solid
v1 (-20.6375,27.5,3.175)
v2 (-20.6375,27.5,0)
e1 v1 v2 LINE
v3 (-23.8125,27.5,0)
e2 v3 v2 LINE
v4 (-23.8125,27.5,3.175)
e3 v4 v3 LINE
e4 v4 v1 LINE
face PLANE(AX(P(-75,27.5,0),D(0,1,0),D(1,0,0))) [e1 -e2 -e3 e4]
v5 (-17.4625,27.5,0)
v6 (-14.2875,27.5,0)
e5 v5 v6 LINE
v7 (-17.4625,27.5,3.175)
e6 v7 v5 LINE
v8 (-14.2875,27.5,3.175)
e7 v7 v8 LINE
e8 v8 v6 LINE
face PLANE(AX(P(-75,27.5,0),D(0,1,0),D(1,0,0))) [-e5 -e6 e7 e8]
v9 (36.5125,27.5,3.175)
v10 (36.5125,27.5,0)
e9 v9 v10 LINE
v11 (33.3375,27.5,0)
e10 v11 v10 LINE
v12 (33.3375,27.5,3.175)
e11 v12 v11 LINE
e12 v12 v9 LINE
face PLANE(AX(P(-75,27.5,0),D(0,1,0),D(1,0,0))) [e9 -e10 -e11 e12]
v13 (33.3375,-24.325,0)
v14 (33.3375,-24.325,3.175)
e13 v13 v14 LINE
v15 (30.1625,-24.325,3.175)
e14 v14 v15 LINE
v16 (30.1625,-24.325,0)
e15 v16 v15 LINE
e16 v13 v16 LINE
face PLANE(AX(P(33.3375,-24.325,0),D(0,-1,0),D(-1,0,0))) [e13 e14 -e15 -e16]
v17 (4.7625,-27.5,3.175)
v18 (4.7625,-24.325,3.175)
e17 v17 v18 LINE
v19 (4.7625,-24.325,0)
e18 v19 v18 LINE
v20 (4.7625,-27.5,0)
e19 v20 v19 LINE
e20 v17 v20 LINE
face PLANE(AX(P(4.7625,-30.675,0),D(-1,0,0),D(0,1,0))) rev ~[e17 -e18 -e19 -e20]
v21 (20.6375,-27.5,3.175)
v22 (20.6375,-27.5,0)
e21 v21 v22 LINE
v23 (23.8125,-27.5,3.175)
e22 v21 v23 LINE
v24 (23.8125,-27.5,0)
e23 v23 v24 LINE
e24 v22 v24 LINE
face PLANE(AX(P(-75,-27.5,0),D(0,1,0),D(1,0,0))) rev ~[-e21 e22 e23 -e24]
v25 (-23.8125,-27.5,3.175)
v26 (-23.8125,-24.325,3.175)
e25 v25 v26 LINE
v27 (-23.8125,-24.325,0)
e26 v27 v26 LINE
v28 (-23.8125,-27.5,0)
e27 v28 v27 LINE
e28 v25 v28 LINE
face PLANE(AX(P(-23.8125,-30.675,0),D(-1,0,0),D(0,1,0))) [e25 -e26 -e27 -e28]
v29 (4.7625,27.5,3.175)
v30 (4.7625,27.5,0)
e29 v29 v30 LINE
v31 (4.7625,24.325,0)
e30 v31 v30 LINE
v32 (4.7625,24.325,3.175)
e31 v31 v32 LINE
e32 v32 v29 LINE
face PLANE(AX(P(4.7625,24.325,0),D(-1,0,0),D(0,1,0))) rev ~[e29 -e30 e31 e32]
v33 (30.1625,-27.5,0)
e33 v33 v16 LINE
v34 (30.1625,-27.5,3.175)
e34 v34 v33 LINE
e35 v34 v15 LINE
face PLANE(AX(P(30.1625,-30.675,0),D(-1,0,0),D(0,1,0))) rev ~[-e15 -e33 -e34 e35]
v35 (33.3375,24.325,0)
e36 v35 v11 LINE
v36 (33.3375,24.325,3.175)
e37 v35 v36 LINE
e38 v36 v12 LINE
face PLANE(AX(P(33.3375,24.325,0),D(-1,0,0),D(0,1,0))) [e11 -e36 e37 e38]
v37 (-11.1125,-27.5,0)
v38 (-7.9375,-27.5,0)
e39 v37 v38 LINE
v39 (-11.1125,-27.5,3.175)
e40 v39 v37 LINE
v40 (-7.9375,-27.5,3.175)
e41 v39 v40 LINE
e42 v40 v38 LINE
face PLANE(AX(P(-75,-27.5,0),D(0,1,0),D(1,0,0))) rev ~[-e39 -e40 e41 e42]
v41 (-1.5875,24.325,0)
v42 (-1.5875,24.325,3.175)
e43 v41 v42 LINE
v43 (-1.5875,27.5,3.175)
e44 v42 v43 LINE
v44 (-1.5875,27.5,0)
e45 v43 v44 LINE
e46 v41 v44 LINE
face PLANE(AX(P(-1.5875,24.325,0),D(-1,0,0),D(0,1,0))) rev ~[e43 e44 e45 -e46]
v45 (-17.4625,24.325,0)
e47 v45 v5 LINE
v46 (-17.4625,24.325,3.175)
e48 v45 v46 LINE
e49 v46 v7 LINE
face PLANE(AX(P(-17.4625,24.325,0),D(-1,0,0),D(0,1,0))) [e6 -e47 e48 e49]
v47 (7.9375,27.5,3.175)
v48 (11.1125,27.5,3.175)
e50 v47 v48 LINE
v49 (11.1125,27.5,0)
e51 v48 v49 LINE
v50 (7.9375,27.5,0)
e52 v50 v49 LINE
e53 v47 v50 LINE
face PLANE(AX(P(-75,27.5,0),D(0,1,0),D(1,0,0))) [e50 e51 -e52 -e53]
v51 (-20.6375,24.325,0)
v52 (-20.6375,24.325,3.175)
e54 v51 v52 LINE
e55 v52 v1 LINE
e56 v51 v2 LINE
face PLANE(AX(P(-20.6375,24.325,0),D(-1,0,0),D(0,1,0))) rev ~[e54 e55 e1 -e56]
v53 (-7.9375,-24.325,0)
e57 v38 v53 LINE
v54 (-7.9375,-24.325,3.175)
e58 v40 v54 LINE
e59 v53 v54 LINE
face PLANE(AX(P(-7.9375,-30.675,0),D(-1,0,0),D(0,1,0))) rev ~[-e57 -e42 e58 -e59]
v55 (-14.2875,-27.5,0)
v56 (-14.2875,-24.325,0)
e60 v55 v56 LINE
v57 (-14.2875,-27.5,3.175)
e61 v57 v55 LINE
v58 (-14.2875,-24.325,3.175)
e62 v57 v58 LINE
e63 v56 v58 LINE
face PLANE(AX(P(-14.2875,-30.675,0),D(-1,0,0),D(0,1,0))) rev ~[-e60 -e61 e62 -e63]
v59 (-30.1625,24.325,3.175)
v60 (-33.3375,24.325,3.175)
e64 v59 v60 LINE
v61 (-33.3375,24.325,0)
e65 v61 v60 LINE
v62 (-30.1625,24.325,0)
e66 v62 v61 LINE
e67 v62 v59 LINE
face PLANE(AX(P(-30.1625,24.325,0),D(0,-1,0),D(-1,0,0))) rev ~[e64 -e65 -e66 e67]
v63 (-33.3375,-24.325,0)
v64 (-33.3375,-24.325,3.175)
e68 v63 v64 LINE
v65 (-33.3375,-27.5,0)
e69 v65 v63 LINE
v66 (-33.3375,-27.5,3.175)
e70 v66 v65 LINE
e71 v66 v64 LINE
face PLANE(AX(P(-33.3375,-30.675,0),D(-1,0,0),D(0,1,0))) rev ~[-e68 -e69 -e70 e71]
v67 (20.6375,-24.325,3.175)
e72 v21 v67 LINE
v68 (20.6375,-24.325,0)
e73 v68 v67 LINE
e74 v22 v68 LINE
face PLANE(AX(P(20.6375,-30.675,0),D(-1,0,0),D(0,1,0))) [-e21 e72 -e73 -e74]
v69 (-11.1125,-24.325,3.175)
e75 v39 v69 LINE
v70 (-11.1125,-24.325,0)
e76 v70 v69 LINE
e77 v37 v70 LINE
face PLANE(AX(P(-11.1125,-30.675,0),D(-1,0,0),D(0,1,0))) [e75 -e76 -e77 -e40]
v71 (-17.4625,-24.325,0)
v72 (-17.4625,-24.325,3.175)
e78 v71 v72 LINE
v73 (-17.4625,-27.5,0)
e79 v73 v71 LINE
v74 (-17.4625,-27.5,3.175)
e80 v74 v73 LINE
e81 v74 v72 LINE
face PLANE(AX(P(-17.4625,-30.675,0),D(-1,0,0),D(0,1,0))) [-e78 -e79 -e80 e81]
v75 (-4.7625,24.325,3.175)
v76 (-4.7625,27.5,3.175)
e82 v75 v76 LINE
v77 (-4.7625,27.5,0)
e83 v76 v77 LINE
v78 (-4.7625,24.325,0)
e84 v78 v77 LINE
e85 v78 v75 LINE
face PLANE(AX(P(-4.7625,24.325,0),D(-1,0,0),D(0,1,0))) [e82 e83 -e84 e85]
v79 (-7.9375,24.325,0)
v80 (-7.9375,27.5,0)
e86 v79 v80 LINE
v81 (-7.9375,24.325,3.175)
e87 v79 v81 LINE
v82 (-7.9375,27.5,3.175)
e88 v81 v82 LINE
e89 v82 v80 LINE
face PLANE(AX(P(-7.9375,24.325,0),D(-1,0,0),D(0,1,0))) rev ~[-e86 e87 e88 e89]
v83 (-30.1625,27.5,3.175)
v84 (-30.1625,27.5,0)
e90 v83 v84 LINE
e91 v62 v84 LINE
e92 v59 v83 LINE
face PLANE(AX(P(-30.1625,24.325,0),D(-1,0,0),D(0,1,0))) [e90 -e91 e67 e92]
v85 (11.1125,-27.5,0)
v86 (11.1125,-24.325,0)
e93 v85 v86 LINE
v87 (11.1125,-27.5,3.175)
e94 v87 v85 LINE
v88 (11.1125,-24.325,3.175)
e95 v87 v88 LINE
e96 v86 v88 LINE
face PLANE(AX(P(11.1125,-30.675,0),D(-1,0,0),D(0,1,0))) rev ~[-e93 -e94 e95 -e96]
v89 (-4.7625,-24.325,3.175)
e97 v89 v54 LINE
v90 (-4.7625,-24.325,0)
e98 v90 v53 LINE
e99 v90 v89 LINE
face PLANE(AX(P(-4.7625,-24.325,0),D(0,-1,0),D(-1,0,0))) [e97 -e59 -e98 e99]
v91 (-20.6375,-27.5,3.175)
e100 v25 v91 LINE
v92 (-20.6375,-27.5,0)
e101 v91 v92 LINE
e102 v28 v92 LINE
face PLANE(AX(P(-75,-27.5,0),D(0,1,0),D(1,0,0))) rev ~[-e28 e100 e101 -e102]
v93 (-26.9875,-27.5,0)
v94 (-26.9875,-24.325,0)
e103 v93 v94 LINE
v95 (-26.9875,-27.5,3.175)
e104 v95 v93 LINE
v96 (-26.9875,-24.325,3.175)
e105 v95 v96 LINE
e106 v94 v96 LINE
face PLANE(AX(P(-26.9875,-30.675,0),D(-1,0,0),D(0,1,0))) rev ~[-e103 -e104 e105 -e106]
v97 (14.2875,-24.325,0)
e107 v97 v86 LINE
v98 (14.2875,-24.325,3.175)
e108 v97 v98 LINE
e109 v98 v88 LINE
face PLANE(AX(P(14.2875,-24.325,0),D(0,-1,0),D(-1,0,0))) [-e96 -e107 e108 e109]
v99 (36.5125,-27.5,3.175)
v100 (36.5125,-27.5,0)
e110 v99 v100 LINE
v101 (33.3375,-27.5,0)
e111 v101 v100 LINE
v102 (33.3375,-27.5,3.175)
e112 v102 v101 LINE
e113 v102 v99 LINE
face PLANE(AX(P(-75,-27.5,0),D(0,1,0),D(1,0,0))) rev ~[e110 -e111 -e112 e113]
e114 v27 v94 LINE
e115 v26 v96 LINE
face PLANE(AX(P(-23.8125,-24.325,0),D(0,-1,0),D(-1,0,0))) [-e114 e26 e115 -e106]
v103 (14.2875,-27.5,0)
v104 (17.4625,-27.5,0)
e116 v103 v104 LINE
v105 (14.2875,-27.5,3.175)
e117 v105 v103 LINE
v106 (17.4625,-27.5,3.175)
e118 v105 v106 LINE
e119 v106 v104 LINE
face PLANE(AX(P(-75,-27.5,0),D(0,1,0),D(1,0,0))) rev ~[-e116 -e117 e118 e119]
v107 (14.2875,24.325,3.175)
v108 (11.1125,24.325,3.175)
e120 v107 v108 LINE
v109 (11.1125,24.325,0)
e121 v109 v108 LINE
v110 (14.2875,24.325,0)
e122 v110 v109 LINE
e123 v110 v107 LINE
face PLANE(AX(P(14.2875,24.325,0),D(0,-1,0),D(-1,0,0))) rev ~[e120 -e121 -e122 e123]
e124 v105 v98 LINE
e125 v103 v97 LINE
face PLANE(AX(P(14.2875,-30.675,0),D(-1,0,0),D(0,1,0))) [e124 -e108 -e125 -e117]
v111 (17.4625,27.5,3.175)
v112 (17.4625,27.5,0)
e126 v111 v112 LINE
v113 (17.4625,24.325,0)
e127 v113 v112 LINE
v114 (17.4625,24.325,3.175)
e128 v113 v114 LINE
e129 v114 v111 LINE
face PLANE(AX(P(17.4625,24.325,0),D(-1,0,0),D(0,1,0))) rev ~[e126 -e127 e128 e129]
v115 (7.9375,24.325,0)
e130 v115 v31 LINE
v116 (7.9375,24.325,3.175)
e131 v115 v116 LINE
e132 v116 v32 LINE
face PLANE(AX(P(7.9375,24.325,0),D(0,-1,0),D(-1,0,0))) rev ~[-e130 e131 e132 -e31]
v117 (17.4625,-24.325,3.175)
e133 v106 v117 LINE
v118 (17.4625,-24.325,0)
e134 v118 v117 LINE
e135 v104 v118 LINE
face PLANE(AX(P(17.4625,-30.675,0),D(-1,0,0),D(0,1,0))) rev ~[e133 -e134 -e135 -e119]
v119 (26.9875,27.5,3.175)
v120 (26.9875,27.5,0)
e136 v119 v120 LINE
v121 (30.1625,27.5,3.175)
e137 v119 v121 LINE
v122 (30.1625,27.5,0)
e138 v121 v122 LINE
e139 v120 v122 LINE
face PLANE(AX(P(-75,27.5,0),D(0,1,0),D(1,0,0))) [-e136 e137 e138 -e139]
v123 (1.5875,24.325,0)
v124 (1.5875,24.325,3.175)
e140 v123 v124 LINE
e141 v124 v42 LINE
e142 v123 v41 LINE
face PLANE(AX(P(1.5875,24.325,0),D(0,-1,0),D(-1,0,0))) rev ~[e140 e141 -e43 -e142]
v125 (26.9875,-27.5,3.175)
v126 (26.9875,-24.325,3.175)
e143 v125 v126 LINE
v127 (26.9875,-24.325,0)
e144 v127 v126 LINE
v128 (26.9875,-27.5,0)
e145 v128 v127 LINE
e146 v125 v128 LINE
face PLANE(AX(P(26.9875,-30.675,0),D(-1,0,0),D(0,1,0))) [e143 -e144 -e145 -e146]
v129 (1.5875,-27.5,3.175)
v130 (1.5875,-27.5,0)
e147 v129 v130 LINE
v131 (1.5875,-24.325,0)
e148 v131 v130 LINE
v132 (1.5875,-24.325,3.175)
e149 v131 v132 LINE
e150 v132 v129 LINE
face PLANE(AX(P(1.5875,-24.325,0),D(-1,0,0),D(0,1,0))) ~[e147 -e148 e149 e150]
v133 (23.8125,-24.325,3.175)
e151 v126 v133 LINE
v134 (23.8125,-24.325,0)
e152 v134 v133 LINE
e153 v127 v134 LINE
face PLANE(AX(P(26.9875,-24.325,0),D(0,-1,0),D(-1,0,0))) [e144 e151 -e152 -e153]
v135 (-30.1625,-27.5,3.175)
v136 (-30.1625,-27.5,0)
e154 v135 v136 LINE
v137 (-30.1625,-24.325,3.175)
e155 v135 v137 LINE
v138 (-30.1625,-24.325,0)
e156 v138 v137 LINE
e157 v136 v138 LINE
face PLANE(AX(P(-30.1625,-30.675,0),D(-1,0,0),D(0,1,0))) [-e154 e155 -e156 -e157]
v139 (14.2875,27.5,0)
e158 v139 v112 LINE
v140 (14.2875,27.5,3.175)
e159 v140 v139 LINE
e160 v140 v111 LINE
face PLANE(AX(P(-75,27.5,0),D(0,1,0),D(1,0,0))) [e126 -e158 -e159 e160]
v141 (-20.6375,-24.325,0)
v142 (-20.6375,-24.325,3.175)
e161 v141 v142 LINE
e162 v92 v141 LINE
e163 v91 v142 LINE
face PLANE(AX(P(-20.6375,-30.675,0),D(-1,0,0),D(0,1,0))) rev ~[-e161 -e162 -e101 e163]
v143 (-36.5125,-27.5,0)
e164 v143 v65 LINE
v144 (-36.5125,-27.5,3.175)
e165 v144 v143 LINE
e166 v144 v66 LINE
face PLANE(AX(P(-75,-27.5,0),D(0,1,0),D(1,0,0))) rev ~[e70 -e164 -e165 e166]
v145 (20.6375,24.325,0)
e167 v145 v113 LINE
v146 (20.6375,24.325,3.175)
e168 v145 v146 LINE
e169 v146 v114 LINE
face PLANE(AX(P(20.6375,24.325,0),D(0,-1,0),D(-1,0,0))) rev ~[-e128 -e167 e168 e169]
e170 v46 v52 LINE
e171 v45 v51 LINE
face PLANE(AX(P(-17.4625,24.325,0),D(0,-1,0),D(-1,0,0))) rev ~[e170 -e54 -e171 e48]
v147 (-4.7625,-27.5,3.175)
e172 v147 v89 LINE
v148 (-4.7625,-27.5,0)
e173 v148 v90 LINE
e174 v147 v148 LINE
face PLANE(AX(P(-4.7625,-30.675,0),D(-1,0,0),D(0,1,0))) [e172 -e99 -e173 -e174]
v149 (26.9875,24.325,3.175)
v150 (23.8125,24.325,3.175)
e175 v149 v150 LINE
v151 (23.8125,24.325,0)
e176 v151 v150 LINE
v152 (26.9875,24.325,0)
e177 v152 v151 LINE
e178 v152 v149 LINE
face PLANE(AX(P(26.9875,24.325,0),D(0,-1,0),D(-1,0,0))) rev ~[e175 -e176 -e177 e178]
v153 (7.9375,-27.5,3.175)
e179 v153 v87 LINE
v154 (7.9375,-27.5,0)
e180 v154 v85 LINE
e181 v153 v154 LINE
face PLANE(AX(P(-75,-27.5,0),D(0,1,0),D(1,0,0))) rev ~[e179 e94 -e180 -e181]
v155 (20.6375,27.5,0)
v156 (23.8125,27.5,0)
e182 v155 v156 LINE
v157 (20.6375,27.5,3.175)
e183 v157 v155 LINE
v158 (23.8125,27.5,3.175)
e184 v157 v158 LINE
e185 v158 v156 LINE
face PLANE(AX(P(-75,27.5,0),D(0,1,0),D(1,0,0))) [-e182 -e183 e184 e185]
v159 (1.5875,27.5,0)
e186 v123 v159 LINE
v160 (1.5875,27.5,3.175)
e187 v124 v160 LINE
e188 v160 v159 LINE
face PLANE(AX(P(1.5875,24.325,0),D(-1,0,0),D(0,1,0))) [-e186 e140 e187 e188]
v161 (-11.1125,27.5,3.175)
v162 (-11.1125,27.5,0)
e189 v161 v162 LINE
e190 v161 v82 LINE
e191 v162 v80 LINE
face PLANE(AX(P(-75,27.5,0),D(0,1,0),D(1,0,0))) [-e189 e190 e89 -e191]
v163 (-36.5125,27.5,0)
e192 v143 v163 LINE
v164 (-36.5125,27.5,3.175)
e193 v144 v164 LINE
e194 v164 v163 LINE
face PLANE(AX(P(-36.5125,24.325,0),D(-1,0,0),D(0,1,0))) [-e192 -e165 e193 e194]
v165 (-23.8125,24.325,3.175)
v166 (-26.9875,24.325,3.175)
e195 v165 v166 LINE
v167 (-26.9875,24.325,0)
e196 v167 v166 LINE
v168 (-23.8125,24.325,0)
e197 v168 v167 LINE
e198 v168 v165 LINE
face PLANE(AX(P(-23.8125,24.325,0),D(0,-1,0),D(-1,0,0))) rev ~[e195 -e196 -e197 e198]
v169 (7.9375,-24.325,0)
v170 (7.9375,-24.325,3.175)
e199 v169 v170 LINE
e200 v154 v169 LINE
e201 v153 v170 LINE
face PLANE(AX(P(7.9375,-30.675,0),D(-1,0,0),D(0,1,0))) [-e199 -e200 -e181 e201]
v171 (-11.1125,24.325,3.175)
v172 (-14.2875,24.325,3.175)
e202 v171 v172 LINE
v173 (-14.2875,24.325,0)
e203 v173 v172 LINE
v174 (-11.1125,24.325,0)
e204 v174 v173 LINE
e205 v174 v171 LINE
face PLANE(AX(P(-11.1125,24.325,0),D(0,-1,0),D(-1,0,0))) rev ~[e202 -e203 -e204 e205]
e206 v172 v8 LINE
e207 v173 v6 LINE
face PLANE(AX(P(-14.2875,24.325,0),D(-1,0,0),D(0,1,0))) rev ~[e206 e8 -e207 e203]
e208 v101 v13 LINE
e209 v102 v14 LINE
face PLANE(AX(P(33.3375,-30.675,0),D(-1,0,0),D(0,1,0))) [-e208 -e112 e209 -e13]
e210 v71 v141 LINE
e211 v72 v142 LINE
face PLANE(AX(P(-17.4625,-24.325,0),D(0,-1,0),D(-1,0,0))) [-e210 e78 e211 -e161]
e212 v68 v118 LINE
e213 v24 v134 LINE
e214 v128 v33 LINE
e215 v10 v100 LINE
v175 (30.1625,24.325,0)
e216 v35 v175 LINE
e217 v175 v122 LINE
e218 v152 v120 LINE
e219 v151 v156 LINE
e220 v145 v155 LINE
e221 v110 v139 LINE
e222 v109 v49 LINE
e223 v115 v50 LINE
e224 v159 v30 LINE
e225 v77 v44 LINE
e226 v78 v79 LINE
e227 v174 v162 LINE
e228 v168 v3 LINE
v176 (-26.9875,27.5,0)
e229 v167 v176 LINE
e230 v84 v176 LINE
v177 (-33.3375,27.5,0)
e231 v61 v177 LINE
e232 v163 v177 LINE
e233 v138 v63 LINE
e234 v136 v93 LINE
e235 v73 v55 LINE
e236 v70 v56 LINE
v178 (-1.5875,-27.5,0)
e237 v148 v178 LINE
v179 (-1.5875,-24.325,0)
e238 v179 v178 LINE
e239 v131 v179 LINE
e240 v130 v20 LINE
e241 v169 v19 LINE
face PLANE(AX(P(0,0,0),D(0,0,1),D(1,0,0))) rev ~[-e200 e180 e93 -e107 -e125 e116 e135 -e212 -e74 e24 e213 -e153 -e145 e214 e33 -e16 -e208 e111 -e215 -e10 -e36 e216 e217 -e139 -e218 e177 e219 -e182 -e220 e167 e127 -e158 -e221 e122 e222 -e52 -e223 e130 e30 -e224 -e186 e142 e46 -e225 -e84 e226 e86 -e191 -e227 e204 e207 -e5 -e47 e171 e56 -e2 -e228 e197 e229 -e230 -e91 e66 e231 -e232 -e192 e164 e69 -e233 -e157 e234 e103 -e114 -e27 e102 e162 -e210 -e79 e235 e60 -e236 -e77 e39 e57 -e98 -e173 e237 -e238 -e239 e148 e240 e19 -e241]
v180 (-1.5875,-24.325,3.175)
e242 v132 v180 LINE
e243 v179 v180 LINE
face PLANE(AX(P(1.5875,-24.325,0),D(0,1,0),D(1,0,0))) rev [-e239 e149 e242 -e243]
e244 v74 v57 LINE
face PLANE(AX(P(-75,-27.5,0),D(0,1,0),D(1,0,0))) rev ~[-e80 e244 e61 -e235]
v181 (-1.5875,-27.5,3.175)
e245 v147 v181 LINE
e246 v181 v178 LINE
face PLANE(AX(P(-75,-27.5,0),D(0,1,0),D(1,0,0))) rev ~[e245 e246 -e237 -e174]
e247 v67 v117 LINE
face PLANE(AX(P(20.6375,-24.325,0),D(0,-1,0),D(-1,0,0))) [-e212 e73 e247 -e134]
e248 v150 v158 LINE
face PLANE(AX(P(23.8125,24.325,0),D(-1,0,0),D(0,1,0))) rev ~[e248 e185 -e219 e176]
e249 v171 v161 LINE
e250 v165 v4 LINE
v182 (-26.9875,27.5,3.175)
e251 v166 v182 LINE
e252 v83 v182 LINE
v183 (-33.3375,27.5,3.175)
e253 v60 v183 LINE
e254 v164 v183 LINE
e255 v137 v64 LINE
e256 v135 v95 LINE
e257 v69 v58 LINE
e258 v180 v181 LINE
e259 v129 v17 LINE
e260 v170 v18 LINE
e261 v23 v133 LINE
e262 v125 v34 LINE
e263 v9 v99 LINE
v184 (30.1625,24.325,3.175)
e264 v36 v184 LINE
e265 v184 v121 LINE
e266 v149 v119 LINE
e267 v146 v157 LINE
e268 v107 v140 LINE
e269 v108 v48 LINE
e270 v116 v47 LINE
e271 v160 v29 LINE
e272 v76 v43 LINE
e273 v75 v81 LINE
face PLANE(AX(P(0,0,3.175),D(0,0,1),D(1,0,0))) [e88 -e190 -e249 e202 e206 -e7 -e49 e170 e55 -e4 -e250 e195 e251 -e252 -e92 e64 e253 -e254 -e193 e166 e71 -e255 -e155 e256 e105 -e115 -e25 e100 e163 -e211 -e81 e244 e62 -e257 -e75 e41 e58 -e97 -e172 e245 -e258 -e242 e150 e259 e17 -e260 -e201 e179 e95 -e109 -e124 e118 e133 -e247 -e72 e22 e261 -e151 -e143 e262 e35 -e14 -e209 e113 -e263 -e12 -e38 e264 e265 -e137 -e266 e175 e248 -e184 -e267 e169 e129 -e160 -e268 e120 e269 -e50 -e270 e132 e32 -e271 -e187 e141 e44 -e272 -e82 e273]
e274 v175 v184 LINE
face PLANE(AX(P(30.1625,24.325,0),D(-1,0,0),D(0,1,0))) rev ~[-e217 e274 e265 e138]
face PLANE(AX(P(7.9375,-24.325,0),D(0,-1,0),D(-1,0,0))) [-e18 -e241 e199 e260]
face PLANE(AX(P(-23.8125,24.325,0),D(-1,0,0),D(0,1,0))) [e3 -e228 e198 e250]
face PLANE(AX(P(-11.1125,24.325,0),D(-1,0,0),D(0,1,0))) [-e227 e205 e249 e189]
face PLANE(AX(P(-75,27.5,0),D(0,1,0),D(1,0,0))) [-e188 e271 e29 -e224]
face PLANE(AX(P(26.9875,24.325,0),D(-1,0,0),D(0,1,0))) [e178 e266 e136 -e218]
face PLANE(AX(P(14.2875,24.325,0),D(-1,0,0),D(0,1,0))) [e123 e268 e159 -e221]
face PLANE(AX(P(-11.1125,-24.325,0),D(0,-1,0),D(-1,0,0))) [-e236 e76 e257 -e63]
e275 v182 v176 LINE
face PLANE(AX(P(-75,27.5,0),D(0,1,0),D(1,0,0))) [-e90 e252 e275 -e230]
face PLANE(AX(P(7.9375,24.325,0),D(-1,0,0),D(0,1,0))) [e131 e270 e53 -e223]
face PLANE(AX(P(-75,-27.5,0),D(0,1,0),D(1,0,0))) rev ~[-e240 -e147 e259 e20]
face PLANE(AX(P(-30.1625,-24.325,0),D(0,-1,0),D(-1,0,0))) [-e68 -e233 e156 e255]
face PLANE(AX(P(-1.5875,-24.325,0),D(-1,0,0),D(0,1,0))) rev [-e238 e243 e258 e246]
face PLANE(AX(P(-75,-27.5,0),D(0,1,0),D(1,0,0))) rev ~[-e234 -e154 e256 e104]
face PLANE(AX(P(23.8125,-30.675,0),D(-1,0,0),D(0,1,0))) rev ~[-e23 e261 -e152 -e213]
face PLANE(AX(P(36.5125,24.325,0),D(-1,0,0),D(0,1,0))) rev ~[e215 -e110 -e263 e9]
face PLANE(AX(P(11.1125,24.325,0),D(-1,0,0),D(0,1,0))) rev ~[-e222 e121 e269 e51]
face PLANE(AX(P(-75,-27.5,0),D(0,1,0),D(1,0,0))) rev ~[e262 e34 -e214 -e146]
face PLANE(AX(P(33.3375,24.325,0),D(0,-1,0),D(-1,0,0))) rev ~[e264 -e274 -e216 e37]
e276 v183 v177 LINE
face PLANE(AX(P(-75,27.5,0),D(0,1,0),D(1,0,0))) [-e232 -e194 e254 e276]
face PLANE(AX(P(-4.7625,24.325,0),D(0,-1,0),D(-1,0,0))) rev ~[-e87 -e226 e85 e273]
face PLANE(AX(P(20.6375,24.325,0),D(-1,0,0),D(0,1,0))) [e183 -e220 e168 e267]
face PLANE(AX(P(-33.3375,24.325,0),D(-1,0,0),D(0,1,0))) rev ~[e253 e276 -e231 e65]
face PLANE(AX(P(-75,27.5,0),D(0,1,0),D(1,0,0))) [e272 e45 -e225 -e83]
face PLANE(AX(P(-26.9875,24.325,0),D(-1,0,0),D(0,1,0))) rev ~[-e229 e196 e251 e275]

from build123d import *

# Parameters (mm, degrees)
SKETCH1_W                = 150
SKETCH1_H                = 55
BOSS_EXTRUDE1_DEPTH      = 3.175
CUT_EXTRUDE1_REACH       = 81.946
SKETCH2_W                = 3.175
SKETCH2_H                = 6.35
LPATTERN1_COUNT          = 12
LPATTERN1_PITCH          = 6.35
LPATTERN1_COL_COUNT      = 12
LPATTERN1_COL_PITCH      = 6.35
MIRROR1_COPY_1_REACH     = 81.946
MIRROR1_COPY_1_SKETCH_W  = 3.175
MIRROR1_COPY_1_SKETCH_H  = 6.35
MIRROR1_COPY_2_REACH     = 81.946
MIRROR1_COPY_2_SKETCH_W  = 3.175
MIRROR1_COPY_2_SKETCH_H  = 6.35
MIRROR1_COPY_3_REACH     = 81.946
MIRROR1_COPY_3_SKETCH_W  = 3.175
MIRROR1_COPY_3_SKETCH_H  = 6.35
MIRROR1_COPY_4_REACH     = 81.946
MIRROR1_COPY_4_SKETCH_W  = 3.175
MIRROR1_COPY_4_SKETCH_H  = 6.35
MIRROR1_COPY_5_REACH     = 81.946
MIRROR1_COPY_5_SKETCH_W  = 3.175
MIRROR1_COPY_5_SKETCH_H  = 6.35
MIRROR1_COPY_6_REACH     = 81.946
MIRROR1_COPY_6_SKETCH_W  = 3.175
MIRROR1_COPY_6_SKETCH_H  = 6.35
MIRROR1_COPY_7_REACH     = 81.946
MIRROR1_COPY_7_SKETCH_W  = 3.175
MIRROR1_COPY_7_SKETCH_H  = 6.35
MIRROR1_COPY_8_REACH     = 81.946
MIRROR1_COPY_8_SKETCH_W  = 3.175
MIRROR1_COPY_8_SKETCH_H  = 6.35
MIRROR1_COPY_9_REACH     = 81.946
MIRROR1_COPY_9_SKETCH_W  = 3.175
MIRROR1_COPY_9_SKETCH_H  = 6.35
MIRROR1_COPY_10_REACH    = 81.946
MIRROR1_COPY_10_SKETCH_W = 3.175
MIRROR1_COPY_10_SKETCH_H = 6.35
MIRROR1_COPY_11_REACH    = 81.946
MIRROR1_COPY_11_SKETCH_W = 3.175
MIRROR1_COPY_11_SKETCH_H = 6.35
MIRROR1_COPY_12_REACH    = 81.946
MIRROR1_COPY_12_SKETCH_W = 3.175
MIRROR1_COPY_12_SKETCH_H = 6.35
MIRROR1_COPY_13_REACH    = 81.946
MIRROR1_COPY_13_SKETCH_W = 3.175
MIRROR1_COPY_13_SKETCH_H = 6.35
MIRROR1_COPY_14_REACH    = 81.946
MIRROR1_COPY_14_SKETCH_W = 3.175
MIRROR1_COPY_14_SKETCH_H = 6.35
MIRROR1_COPY_15_REACH    = 81.946
MIRROR1_COPY_15_SKETCH_W = 3.175
MIRROR1_COPY_15_SKETCH_H = 6.35
MIRROR1_COPY_16_REACH    = 81.946
MIRROR1_COPY_16_SKETCH_W = 3.175
MIRROR1_COPY_16_SKETCH_H = 6.35
MIRROR1_COPY_17_REACH    = 81.946
MIRROR1_COPY_17_SKETCH_W = 3.175
MIRROR1_COPY_17_SKETCH_H = 6.35
MIRROR1_COPY_18_REACH    = 81.946
MIRROR1_COPY_18_SKETCH_W = 3.175
MIRROR1_COPY_18_SKETCH_H = 6.35
MIRROR1_COPY_19_REACH    = 81.946
MIRROR1_COPY_19_SKETCH_W = 3.175
MIRROR1_COPY_19_SKETCH_H = 6.35
MIRROR1_COPY_20_REACH    = 81.946
MIRROR1_COPY_20_SKETCH_W = 3.175
MIRROR1_COPY_20_SKETCH_H = 6.35
MIRROR1_COPY_21_REACH    = 81.946
MIRROR1_COPY_21_SKETCH_W = 3.175
MIRROR1_COPY_21_SKETCH_H = 6.35
MIRROR1_COPY_22_REACH    = 81.946
MIRROR1_COPY_22_SKETCH_W = 3.175
MIRROR1_COPY_22_SKETCH_H = 6.35
SKETCH3_W                = 19.4375
SKETCH3_H                = 55
CUT_EXTRUDE2_DEPTH       = 10
CUT_EXTRUDE3_DEPTH       = 10
SKETCH6_W                = 15.875
SKETCH6_H                = 3.175
CUT_EXTRUDE4_DEPTH       = 10
SKETCH7_W                = 19.05
SKETCH7_H                = 48.65
CUT_EXTRUDE5_DEPTH       = 10


with BuildPart() as part:
    # Sketch1 → Boss-Extrude1 (new body)
    with BuildSketch(Plane.XY):
        Rectangle(SKETCH1_W, SKETCH1_H)
    extrude(amount=BOSS_EXTRUDE1_DEPTH)

    # Sketch2 → Cut-Extrude1 (cut, up to next)
    with BuildSketch(Plane(origin=(0, 0, 0), x_dir=(-1, 0, 0), z_dir=(0, 0, -1)), mode=Mode.PRIVATE) as cut_extrude1_sk1:
        with Locations((0, 27.5)):
            Rectangle(SKETCH2_W, SKETCH2_H)
    cut_extrude1_tool1 = extrude(cut_extrude1_sk1.sketch, amount=-CUT_EXTRUDE1_REACH, mode=Mode.PRIVATE) & part.part
    cut_extrude1 = cut_extrude1_tool1.solids().sort_by_distance((0, 27.5, 0))[0]
    add(cut_extrude1, mode=Mode.SUBTRACT)

    # LPattern1: Cut-Extrude1 ×12
    with Locations(*[(i * LPATTERN1_PITCH, 0, 0) for i in range(1, LPATTERN1_COUNT)]):
        add(cut_extrude1, mode=Mode.SUBTRACT)

    # LPattern1 col: Cut-Extrude1 ×12
    with Locations(*[(-i * LPATTERN1_COL_PITCH, 0, 0) for i in range(1, LPATTERN1_COL_COUNT)]):
        add(cut_extrude1, mode=Mode.SUBTRACT)

    # Mirror1: Cut-Extrude1 across plane
    add(cut_extrude1.mirror(Plane.ZX), mode=Mode.SUBTRACT)

    # Mirror1 copy 1 sketch → Mirror1 copy 1 (cut, up to next)
    with BuildSketch(Plane(origin=(6.35, 0, 0), x_dir=(-1, 0, 0), z_dir=(0, 0, -1)), mode=Mode.PRIVATE) as mirror1_copy_1_sk1:
        with Locations((0, -27.5)):
            Rectangle(MIRROR1_COPY_1_SKETCH_W, MIRROR1_COPY_1_SKETCH_H)
    mirror1_copy_1_tool1 = extrude(mirror1_copy_1_sk1.sketch, amount=-MIRROR1_COPY_1_REACH, mode=Mode.PRIVATE) & part.part
    add(mirror1_copy_1_tool1.solids().sort_by_distance((6.35, -27.5, 0))[0], mode=Mode.SUBTRACT)

    # Mirror1 copy 2 sketch → Mirror1 copy 2 (cut, up to next)
    with BuildSketch(Plane(origin=(12.7, 0, 0), x_dir=(-1, 0, 0), z_dir=(0, 0, -1)), mode=Mode.PRIVATE) as mirror1_copy_2_sk1:
        with Locations((0, -27.5)):
            Rectangle(MIRROR1_COPY_2_SKETCH_W, MIRROR1_COPY_2_SKETCH_H)
    mirror1_copy_2_tool1 = extrude(mirror1_copy_2_sk1.sketch, amount=-MIRROR1_COPY_2_REACH, mode=Mode.PRIVATE) & part.part
    add(mirror1_copy_2_tool1.solids().sort_by_distance((12.7, -27.5, 0))[0], mode=Mode.SUBTRACT)

    # Mirror1 copy 3 sketch → Mirror1 copy 3 (cut, up to next)
    with BuildSketch(Plane(origin=(19.05, 0, 0), x_dir=(-1, 0, 0), z_dir=(0, 0, -1)), mode=Mode.PRIVATE) as mirror1_copy_3_sk1:
        with Locations((0, -27.5)):
            Rectangle(MIRROR1_COPY_3_SKETCH_W, MIRROR1_COPY_3_SKETCH_H)
    mirror1_copy_3_tool1 = extrude(mirror1_copy_3_sk1.sketch, amount=-MIRROR1_COPY_3_REACH, mode=Mode.PRIVATE) & part.part
    add(mirror1_copy_3_tool1.solids().sort_by_distance((19.05, -27.5, 0))[0], mode=Mode.SUBTRACT)

    # Mirror1 copy 4 sketch → Mirror1 copy 4 (cut, up to next)
    with BuildSketch(Plane(origin=(25.4, 0, 0), x_dir=(-1, 0, 0), z_dir=(0, 0, -1)), mode=Mode.PRIVATE) as mirror1_copy_4_sk1:
        with Locations((0, -27.5)):
            Rectangle(MIRROR1_COPY_4_SKETCH_W, MIRROR1_COPY_4_SKETCH_H)
    mirror1_copy_4_tool1 = extrude(mirror1_copy_4_sk1.sketch, amount=-MIRROR1_COPY_4_REACH, mode=Mode.PRIVATE) & part.part
    add(mirror1_copy_4_tool1.solids().sort_by_distance((25.4, -27.5, 0))[0], mode=Mode.SUBTRACT)

    # Mirror1 copy 5 sketch → Mirror1 copy 5 (cut, up to next)
    with BuildSketch(Plane(origin=(31.75, 0, 0), x_dir=(-1, 0, 0), z_dir=(0, 0, -1)), mode=Mode.PRIVATE) as mirror1_copy_5_sk1:
        with Locations((0, -27.5)):
            Rectangle(MIRROR1_COPY_5_SKETCH_W, MIRROR1_COPY_5_SKETCH_H)
    mirror1_copy_5_tool1 = extrude(mirror1_copy_5_sk1.sketch, amount=-MIRROR1_COPY_5_REACH, mode=Mode.PRIVATE) & part.part
    add(mirror1_copy_5_tool1.solids().sort_by_distance((31.75, -27.5, 0))[0], mode=Mode.SUBTRACT)

    # Mirror1 copy 6 sketch → Mirror1 copy 6 (cut, up to next)
    with BuildSketch(Plane(origin=(38.1, 0, 0), x_dir=(-1, 0, 0), z_dir=(0, 0, -1)), mode=Mode.PRIVATE) as mirror1_copy_6_sk1:
        with Locations((0, -27.5)):
            Rectangle(MIRROR1_COPY_6_SKETCH_W, MIRROR1_COPY_6_SKETCH_H)
    mirror1_copy_6_tool1 = extrude(mirror1_copy_6_sk1.sketch, amount=-MIRROR1_COPY_6_REACH, mode=Mode.PRIVATE) & part.part
    add(mirror1_copy_6_tool1.solids().sort_by_distance((38.1, -27.5, 0))[0], mode=Mode.SUBTRACT)

    # Mirror1 copy 7 sketch → Mirror1 copy 7 (cut, up to next)
    with BuildSketch(Plane(origin=(44.45, 0, 0), x_dir=(-1, 0, 0), z_dir=(0, 0, -1)), mode=Mode.PRIVATE) as mirror1_copy_7_sk1:
        with Locations((0, -27.5)):
            Rectangle(MIRROR1_COPY_7_SKETCH_W, MIRROR1_COPY_7_SKETCH_H)
    mirror1_copy_7_tool1 = extrude(mirror1_copy_7_sk1.sketch, amount=-MIRROR1_COPY_7_REACH, mode=Mode.PRIVATE) & part.part
    add(mirror1_copy_7_tool1.solids().sort_by_distance((44.45, -27.5, 0))[0], mode=Mode.SUBTRACT)

    # Mirror1 copy 8 sketch → Mirror1 copy 8 (cut, up to next)
    with BuildSketch(Plane(origin=(50.8, 0, 0), x_dir=(-1, 0, 0), z_dir=(0, 0, -1)), mode=Mode.PRIVATE) as mirror1_copy_8_sk1:
        with Locations((0, -27.5)):
            Rectangle(MIRROR1_COPY_8_SKETCH_W, MIRROR1_COPY_8_SKETCH_H)
    mirror1_copy_8_tool1 = extrude(mirror1_copy_8_sk1.sketch, amount=-MIRROR1_COPY_8_REACH, mode=Mode.PRIVATE) & part.part
    add(mirror1_copy_8_tool1.solids().sort_by_distance((50.8, -27.5, 0))[0], mode=Mode.SUBTRACT)

    # Mirror1 copy 9 sketch → Mirror1 copy 9 (cut, up to next)
    with BuildSketch(Plane(origin=(57.15, 0, 0), x_dir=(-1, 0, 0), z_dir=(0, 0, -1)), mode=Mode.PRIVATE) as mirror1_copy_9_sk1:
        with Locations((0, -27.5)):
            Rectangle(MIRROR1_COPY_9_SKETCH_W, MIRROR1_COPY_9_SKETCH_H)
    mirror1_copy_9_tool1 = extrude(mirror1_copy_9_sk1.sketch, amount=-MIRROR1_COPY_9_REACH, mode=Mode.PRIVATE) & part.part
    add(mirror1_copy_9_tool1.solids().sort_by_distance((57.15, -27.5, 0))[0], mode=Mode.SUBTRACT)

    # Mirror1 copy 10 sketch → Mirror1 copy 10 (cut, up to next)
    with BuildSketch(Plane(origin=(63.5, 0, 0), x_dir=(-1, 0, 0), z_dir=(0, 0, -1)), mode=Mode.PRIVATE) as mirror1_copy_10_sk1:
        with Locations((0, -27.5)):
            Rectangle(MIRROR1_COPY_10_SKETCH_W, MIRROR1_COPY_10_SKETCH_H)
    mirror1_copy_10_tool1 = extrude(mirror1_copy_10_sk1.sketch, amount=-MIRROR1_COPY_10_REACH, mode=Mode.PRIVATE) & part.part
    add(mirror1_copy_10_tool1.solids().sort_by_distance((63.5, -27.5, 0))[0], mode=Mode.SUBTRACT)

    # Mirror1 copy 11 sketch → Mirror1 copy 11 (cut, up to next)
    with BuildSketch(Plane(origin=(69.85, 0, 0), x_dir=(-1, 0, 0), z_dir=(0, 0, -1)), mode=Mode.PRIVATE) as mirror1_copy_11_sk1:
        with Locations((0, -27.5)):
            Rectangle(MIRROR1_COPY_11_SKETCH_W, MIRROR1_COPY_11_SKETCH_H)
    mirror1_copy_11_tool1 = extrude(mirror1_copy_11_sk1.sketch, amount=-MIRROR1_COPY_11_REACH, mode=Mode.PRIVATE) & part.part
    add(mirror1_copy_11_tool1.solids().sort_by_distance((69.85, -27.5, 0))[0], mode=Mode.SUBTRACT)

    # Mirror1 copy 12 sketch → Mirror1 copy 12 (cut, up to next)
    with BuildSketch(Plane(origin=(-6.35, 0, 0), x_dir=(-1, 0, 0), z_dir=(0, 0, -1)), mode=Mode.PRIVATE) as mirror1_copy_12_sk1:
        with Locations((0, -27.5)):
            Rectangle(MIRROR1_COPY_12_SKETCH_W, MIRROR1_COPY_12_SKETCH_H)
    mirror1_copy_12_tool1 = extrude(mirror1_copy_12_sk1.sketch, amount=-MIRROR1_COPY_12_REACH, mode=Mode.PRIVATE) & part.part
    add(mirror1_copy_12_tool1.solids().sort_by_distance((-6.35, -27.5, 0))[0], mode=Mode.SUBTRACT)

    # Mirror1 copy 13 sketch → Mirror1 copy 13 (cut, up to next)
    with BuildSketch(Plane(origin=(-12.7, 0, 0), x_dir=(-1, 0, 0), z_dir=(0, 0, -1)), mode=Mode.PRIVATE) as mirror1_copy_13_sk1:
        with Locations((0, -27.5)):
            Rectangle(MIRROR1_COPY_13_SKETCH_W, MIRROR1_COPY_13_SKETCH_H)
    mirror1_copy_13_tool1 = extrude(mirror1_copy_13_sk1.sketch, amount=-MIRROR1_COPY_13_REACH, mode=Mode.PRIVATE) & part.part
    add(mirror1_copy_13_tool1.solids().sort_by_distance((-12.7, -27.5, 0))[0], mode=Mode.SUBTRACT)

    # Mirror1 copy 14 sketch → Mirror1 copy 14 (cut, up to next)
    with BuildSketch(Plane(origin=(-19.05, 0, 0), x_dir=(-1, 0, 0), z_dir=(0, 0, -1)), mode=Mode.PRIVATE) as mirror1_copy_14_sk1:
        with Locations((0, -27.5)):
            Rectangle(MIRROR1_COPY_14_SKETCH_W, MIRROR1_COPY_14_SKETCH_H)
    mirror1_copy_14_tool1 = extrude(mirror1_copy_14_sk1.sketch, amount=-MIRROR1_COPY_14_REACH, mode=Mode.PRIVATE) & part.part
    add(mirror1_copy_14_tool1.solids().sort_by_distance((-19.05, -27.5, 0))[0], mode=Mode.SUBTRACT)

    # Mirror1 copy 15 sketch → Mirror1 copy 15 (cut, up to next)
    with BuildSketch(Plane(origin=(-25.4, 0, 0), x_dir=(-1, 0, 0), z_dir=(0, 0, -1)), mode=Mode.PRIVATE) as mirror1_copy_15_sk1:
        with Locations((0, -27.5)):
            Rectangle(MIRROR1_COPY_15_SKETCH_W, MIRROR1_COPY_15_SKETCH_H)
    mirror1_copy_15_tool1 = extrude(mirror1_copy_15_sk1.sketch, amount=-MIRROR1_COPY_15_REACH, mode=Mode.PRIVATE) & part.part
    add(mirror1_copy_15_tool1.solids().sort_by_distance((-25.4, -27.5, 0))[0], mode=Mode.SUBTRACT)

    # Mirror1 copy 16 sketch → Mirror1 copy 16 (cut, up to next)
    with BuildSketch(Plane(origin=(-31.75, 0, 0), x_dir=(-1, 0, 0), z_dir=(0, 0, -1)), mode=Mode.PRIVATE) as mirror1_copy_16_sk1:
        with Locations((0, -27.5)):
            Rectangle(MIRROR1_COPY_16_SKETCH_W, MIRROR1_COPY_16_SKETCH_H)
    mirror1_copy_16_tool1 = extrude(mirror1_copy_16_sk1.sketch, amount=-MIRROR1_COPY_16_REACH, mode=Mode.PRIVATE) & part.part
    add(mirror1_copy_16_tool1.solids().sort_by_distance((-31.75, -27.5, 0))[0], mode=Mode.SUBTRACT)

    # Mirror1 copy 17 sketch → Mirror1 copy 17 (cut, up to next)
    with BuildSketch(Plane(origin=(-38.1, 0, 0), x_dir=(-1, 0, 0), z_dir=(0, 0, -1)), mode=Mode.PRIVATE) as mirror1_copy_17_sk1:
        with Locations((0, -27.5)):
            Rectangle(MIRROR1_COPY_17_SKETCH_W, MIRROR1_COPY_17_SKETCH_H)
    mirror1_copy_17_tool1 = extrude(mirror1_copy_17_sk1.sketch, amount=-MIRROR1_COPY_17_REACH, mode=Mode.PRIVATE) & part.part
    add(mirror1_copy_17_tool1.solids().sort_by_distance((-38.1, -27.5, 0))[0], mode=Mode.SUBTRACT)

    # Mirror1 copy 18 sketch → Mirror1 copy 18 (cut, up to next)
    with BuildSketch(Plane(origin=(-44.45, 0, 0), x_dir=(-1, 0, 0), z_dir=(0, 0, -1)), mode=Mode.PRIVATE) as mirror1_copy_18_sk1:
        with Locations((0, -27.5)):
            Rectangle(MIRROR1_COPY_18_SKETCH_W, MIRROR1_COPY_18_SKETCH_H)
    mirror1_copy_18_tool1 = extrude(mirror1_copy_18_sk1.sketch, amount=-MIRROR1_COPY_18_REACH, mode=Mode.PRIVATE) & part.part
    add(mirror1_copy_18_tool1.solids().sort_by_distance((-44.45, -27.5, 0))[0], mode=Mode.SUBTRACT)

    # Mirror1 copy 19 sketch → Mirror1 copy 19 (cut, up to next)
    with BuildSketch(Plane(origin=(-50.8, 0, 0), x_dir=(-1, 0, 0), z_dir=(0, 0, -1)), mode=Mode.PRIVATE) as mirror1_copy_19_sk1:
        with Locations((0, -27.5)):
            Rectangle(MIRROR1_COPY_19_SKETCH_W, MIRROR1_COPY_19_SKETCH_H)
    mirror1_copy_19_tool1 = extrude(mirror1_copy_19_sk1.sketch, amount=-MIRROR1_COPY_19_REACH, mode=Mode.PRIVATE) & part.part
    add(mirror1_copy_19_tool1.solids().sort_by_distance((-50.8, -27.5, 0))[0], mode=Mode.SUBTRACT)

    # Mirror1 copy 20 sketch → Mirror1 copy 20 (cut, up to next)
    with BuildSketch(Plane(origin=(-57.15, 0, 0), x_dir=(-1, 0, 0), z_dir=(0, 0, -1)), mode=Mode.PRIVATE) as mirror1_copy_20_sk1:
        with Locations((0, -27.5)):
            Rectangle(MIRROR1_COPY_20_SKETCH_W, MIRROR1_COPY_20_SKETCH_H)
    mirror1_copy_20_tool1 = extrude(mirror1_copy_20_sk1.sketch, amount=-MIRROR1_COPY_20_REACH, mode=Mode.PRIVATE) & part.part
    add(mirror1_copy_20_tool1.solids().sort_by_distance((-57.15, -27.5, 0))[0], mode=Mode.SUBTRACT)

    # Mirror1 copy 21 sketch → Mirror1 copy 21 (cut, up to next)
    with BuildSketch(Plane(origin=(-63.5, 0, 0), x_dir=(-1, 0, 0), z_dir=(0, 0, -1)), mode=Mode.PRIVATE) as mirror1_copy_21_sk1:
        with Locations((0, -27.5)):
            Rectangle(MIRROR1_COPY_21_SKETCH_W, MIRROR1_COPY_21_SKETCH_H)
    mirror1_copy_21_tool1 = extrude(mirror1_copy_21_sk1.sketch, amount=-MIRROR1_COPY_21_REACH, mode=Mode.PRIVATE) & part.part
    add(mirror1_copy_21_tool1.solids().sort_by_distance((-63.5, -27.5, 0))[0], mode=Mode.SUBTRACT)

    # Mirror1 copy 22 sketch → Mirror1 copy 22 (cut, up to next)
    with BuildSketch(Plane(origin=(-69.85, 0, 0), x_dir=(-1, 0, 0), z_dir=(0, 0, -1)), mode=Mode.PRIVATE) as mirror1_copy_22_sk1:
        with Locations((0, -27.5)):
            Rectangle(MIRROR1_COPY_22_SKETCH_W, MIRROR1_COPY_22_SKETCH_H)
    mirror1_copy_22_tool1 = extrude(mirror1_copy_22_sk1.sketch, amount=-MIRROR1_COPY_22_REACH, mode=Mode.PRIVATE) & part.part
    add(mirror1_copy_22_tool1.solids().sort_by_distance((-69.85, -27.5, 0))[0], mode=Mode.SUBTRACT)

    # Sketch3 → Cut-Extrude2 (cut)
    with BuildSketch(Plane(origin=(0, 0, 0), x_dir=(-1, 0, 0), z_dir=(0, 0, -1))):
        with Locations((-65.28125, 0)):
            Rectangle(SKETCH3_W, SKETCH3_H)
        with Locations((65.28125, 0)):
            Rectangle(SKETCH3_W, SKETCH3_H)
    extrude(amount=-CUT_EXTRUDE2_DEPTH, mode=Mode.SUBTRACT)

    # Sketch5 → Cut-Extrude3 (cut)
    with BuildSketch(Plane(origin=(0, 0, 0), x_dir=(-1, 0, 0), z_dir=(0, 0, -1))):
        Polygon((-55.5625, 27.5), (-42.8625, 27.5), (-39.6875, 27.5), (-39.6875, 24.325), (-42.8625, 24.325), (-55.5625, 24.325), align=None)
        Polygon((55.5625, 27.5), (42.8625, 27.5), (39.6875, 27.5), (39.6875, 24.325), (42.8625, 24.325), (55.5625, 24.325), align=None)
    extrude(amount=-CUT_EXTRUDE3_DEPTH, mode=Mode.SUBTRACT)

    # Sketch6 → Cut-Extrude4 (cut)
    with BuildSketch(Plane(origin=(0, 0, 0), x_dir=(-1, 0, 0), z_dir=(0, 0, -1))):
        with Locations((-47.625, -25.9125)):
            Rectangle(SKETCH6_W, SKETCH6_H)
        with Locations((47.625, -25.9125)):
            Rectangle(SKETCH6_W, SKETCH6_H)
    extrude(amount=-CUT_EXTRUDE4_DEPTH, mode=Mode.SUBTRACT)

    # Sketch7 → Cut-Extrude5 (cut)
    with BuildSketch(Plane(origin=(0, 0, 0), x_dir=(-1, 0, 0), z_dir=(0, 0, -1))):
        with Locations((-46.0375, 0)):
            Rectangle(SKETCH7_W, SKETCH7_H)
        with Locations((46.0375, 0)):
            Rectangle(SKETCH7_W, SKETCH7_H)
    extrude(amount=-CUT_EXTRUDE5_DEPTH, mode=Mode.SUBTRACT)


solid = part.part
